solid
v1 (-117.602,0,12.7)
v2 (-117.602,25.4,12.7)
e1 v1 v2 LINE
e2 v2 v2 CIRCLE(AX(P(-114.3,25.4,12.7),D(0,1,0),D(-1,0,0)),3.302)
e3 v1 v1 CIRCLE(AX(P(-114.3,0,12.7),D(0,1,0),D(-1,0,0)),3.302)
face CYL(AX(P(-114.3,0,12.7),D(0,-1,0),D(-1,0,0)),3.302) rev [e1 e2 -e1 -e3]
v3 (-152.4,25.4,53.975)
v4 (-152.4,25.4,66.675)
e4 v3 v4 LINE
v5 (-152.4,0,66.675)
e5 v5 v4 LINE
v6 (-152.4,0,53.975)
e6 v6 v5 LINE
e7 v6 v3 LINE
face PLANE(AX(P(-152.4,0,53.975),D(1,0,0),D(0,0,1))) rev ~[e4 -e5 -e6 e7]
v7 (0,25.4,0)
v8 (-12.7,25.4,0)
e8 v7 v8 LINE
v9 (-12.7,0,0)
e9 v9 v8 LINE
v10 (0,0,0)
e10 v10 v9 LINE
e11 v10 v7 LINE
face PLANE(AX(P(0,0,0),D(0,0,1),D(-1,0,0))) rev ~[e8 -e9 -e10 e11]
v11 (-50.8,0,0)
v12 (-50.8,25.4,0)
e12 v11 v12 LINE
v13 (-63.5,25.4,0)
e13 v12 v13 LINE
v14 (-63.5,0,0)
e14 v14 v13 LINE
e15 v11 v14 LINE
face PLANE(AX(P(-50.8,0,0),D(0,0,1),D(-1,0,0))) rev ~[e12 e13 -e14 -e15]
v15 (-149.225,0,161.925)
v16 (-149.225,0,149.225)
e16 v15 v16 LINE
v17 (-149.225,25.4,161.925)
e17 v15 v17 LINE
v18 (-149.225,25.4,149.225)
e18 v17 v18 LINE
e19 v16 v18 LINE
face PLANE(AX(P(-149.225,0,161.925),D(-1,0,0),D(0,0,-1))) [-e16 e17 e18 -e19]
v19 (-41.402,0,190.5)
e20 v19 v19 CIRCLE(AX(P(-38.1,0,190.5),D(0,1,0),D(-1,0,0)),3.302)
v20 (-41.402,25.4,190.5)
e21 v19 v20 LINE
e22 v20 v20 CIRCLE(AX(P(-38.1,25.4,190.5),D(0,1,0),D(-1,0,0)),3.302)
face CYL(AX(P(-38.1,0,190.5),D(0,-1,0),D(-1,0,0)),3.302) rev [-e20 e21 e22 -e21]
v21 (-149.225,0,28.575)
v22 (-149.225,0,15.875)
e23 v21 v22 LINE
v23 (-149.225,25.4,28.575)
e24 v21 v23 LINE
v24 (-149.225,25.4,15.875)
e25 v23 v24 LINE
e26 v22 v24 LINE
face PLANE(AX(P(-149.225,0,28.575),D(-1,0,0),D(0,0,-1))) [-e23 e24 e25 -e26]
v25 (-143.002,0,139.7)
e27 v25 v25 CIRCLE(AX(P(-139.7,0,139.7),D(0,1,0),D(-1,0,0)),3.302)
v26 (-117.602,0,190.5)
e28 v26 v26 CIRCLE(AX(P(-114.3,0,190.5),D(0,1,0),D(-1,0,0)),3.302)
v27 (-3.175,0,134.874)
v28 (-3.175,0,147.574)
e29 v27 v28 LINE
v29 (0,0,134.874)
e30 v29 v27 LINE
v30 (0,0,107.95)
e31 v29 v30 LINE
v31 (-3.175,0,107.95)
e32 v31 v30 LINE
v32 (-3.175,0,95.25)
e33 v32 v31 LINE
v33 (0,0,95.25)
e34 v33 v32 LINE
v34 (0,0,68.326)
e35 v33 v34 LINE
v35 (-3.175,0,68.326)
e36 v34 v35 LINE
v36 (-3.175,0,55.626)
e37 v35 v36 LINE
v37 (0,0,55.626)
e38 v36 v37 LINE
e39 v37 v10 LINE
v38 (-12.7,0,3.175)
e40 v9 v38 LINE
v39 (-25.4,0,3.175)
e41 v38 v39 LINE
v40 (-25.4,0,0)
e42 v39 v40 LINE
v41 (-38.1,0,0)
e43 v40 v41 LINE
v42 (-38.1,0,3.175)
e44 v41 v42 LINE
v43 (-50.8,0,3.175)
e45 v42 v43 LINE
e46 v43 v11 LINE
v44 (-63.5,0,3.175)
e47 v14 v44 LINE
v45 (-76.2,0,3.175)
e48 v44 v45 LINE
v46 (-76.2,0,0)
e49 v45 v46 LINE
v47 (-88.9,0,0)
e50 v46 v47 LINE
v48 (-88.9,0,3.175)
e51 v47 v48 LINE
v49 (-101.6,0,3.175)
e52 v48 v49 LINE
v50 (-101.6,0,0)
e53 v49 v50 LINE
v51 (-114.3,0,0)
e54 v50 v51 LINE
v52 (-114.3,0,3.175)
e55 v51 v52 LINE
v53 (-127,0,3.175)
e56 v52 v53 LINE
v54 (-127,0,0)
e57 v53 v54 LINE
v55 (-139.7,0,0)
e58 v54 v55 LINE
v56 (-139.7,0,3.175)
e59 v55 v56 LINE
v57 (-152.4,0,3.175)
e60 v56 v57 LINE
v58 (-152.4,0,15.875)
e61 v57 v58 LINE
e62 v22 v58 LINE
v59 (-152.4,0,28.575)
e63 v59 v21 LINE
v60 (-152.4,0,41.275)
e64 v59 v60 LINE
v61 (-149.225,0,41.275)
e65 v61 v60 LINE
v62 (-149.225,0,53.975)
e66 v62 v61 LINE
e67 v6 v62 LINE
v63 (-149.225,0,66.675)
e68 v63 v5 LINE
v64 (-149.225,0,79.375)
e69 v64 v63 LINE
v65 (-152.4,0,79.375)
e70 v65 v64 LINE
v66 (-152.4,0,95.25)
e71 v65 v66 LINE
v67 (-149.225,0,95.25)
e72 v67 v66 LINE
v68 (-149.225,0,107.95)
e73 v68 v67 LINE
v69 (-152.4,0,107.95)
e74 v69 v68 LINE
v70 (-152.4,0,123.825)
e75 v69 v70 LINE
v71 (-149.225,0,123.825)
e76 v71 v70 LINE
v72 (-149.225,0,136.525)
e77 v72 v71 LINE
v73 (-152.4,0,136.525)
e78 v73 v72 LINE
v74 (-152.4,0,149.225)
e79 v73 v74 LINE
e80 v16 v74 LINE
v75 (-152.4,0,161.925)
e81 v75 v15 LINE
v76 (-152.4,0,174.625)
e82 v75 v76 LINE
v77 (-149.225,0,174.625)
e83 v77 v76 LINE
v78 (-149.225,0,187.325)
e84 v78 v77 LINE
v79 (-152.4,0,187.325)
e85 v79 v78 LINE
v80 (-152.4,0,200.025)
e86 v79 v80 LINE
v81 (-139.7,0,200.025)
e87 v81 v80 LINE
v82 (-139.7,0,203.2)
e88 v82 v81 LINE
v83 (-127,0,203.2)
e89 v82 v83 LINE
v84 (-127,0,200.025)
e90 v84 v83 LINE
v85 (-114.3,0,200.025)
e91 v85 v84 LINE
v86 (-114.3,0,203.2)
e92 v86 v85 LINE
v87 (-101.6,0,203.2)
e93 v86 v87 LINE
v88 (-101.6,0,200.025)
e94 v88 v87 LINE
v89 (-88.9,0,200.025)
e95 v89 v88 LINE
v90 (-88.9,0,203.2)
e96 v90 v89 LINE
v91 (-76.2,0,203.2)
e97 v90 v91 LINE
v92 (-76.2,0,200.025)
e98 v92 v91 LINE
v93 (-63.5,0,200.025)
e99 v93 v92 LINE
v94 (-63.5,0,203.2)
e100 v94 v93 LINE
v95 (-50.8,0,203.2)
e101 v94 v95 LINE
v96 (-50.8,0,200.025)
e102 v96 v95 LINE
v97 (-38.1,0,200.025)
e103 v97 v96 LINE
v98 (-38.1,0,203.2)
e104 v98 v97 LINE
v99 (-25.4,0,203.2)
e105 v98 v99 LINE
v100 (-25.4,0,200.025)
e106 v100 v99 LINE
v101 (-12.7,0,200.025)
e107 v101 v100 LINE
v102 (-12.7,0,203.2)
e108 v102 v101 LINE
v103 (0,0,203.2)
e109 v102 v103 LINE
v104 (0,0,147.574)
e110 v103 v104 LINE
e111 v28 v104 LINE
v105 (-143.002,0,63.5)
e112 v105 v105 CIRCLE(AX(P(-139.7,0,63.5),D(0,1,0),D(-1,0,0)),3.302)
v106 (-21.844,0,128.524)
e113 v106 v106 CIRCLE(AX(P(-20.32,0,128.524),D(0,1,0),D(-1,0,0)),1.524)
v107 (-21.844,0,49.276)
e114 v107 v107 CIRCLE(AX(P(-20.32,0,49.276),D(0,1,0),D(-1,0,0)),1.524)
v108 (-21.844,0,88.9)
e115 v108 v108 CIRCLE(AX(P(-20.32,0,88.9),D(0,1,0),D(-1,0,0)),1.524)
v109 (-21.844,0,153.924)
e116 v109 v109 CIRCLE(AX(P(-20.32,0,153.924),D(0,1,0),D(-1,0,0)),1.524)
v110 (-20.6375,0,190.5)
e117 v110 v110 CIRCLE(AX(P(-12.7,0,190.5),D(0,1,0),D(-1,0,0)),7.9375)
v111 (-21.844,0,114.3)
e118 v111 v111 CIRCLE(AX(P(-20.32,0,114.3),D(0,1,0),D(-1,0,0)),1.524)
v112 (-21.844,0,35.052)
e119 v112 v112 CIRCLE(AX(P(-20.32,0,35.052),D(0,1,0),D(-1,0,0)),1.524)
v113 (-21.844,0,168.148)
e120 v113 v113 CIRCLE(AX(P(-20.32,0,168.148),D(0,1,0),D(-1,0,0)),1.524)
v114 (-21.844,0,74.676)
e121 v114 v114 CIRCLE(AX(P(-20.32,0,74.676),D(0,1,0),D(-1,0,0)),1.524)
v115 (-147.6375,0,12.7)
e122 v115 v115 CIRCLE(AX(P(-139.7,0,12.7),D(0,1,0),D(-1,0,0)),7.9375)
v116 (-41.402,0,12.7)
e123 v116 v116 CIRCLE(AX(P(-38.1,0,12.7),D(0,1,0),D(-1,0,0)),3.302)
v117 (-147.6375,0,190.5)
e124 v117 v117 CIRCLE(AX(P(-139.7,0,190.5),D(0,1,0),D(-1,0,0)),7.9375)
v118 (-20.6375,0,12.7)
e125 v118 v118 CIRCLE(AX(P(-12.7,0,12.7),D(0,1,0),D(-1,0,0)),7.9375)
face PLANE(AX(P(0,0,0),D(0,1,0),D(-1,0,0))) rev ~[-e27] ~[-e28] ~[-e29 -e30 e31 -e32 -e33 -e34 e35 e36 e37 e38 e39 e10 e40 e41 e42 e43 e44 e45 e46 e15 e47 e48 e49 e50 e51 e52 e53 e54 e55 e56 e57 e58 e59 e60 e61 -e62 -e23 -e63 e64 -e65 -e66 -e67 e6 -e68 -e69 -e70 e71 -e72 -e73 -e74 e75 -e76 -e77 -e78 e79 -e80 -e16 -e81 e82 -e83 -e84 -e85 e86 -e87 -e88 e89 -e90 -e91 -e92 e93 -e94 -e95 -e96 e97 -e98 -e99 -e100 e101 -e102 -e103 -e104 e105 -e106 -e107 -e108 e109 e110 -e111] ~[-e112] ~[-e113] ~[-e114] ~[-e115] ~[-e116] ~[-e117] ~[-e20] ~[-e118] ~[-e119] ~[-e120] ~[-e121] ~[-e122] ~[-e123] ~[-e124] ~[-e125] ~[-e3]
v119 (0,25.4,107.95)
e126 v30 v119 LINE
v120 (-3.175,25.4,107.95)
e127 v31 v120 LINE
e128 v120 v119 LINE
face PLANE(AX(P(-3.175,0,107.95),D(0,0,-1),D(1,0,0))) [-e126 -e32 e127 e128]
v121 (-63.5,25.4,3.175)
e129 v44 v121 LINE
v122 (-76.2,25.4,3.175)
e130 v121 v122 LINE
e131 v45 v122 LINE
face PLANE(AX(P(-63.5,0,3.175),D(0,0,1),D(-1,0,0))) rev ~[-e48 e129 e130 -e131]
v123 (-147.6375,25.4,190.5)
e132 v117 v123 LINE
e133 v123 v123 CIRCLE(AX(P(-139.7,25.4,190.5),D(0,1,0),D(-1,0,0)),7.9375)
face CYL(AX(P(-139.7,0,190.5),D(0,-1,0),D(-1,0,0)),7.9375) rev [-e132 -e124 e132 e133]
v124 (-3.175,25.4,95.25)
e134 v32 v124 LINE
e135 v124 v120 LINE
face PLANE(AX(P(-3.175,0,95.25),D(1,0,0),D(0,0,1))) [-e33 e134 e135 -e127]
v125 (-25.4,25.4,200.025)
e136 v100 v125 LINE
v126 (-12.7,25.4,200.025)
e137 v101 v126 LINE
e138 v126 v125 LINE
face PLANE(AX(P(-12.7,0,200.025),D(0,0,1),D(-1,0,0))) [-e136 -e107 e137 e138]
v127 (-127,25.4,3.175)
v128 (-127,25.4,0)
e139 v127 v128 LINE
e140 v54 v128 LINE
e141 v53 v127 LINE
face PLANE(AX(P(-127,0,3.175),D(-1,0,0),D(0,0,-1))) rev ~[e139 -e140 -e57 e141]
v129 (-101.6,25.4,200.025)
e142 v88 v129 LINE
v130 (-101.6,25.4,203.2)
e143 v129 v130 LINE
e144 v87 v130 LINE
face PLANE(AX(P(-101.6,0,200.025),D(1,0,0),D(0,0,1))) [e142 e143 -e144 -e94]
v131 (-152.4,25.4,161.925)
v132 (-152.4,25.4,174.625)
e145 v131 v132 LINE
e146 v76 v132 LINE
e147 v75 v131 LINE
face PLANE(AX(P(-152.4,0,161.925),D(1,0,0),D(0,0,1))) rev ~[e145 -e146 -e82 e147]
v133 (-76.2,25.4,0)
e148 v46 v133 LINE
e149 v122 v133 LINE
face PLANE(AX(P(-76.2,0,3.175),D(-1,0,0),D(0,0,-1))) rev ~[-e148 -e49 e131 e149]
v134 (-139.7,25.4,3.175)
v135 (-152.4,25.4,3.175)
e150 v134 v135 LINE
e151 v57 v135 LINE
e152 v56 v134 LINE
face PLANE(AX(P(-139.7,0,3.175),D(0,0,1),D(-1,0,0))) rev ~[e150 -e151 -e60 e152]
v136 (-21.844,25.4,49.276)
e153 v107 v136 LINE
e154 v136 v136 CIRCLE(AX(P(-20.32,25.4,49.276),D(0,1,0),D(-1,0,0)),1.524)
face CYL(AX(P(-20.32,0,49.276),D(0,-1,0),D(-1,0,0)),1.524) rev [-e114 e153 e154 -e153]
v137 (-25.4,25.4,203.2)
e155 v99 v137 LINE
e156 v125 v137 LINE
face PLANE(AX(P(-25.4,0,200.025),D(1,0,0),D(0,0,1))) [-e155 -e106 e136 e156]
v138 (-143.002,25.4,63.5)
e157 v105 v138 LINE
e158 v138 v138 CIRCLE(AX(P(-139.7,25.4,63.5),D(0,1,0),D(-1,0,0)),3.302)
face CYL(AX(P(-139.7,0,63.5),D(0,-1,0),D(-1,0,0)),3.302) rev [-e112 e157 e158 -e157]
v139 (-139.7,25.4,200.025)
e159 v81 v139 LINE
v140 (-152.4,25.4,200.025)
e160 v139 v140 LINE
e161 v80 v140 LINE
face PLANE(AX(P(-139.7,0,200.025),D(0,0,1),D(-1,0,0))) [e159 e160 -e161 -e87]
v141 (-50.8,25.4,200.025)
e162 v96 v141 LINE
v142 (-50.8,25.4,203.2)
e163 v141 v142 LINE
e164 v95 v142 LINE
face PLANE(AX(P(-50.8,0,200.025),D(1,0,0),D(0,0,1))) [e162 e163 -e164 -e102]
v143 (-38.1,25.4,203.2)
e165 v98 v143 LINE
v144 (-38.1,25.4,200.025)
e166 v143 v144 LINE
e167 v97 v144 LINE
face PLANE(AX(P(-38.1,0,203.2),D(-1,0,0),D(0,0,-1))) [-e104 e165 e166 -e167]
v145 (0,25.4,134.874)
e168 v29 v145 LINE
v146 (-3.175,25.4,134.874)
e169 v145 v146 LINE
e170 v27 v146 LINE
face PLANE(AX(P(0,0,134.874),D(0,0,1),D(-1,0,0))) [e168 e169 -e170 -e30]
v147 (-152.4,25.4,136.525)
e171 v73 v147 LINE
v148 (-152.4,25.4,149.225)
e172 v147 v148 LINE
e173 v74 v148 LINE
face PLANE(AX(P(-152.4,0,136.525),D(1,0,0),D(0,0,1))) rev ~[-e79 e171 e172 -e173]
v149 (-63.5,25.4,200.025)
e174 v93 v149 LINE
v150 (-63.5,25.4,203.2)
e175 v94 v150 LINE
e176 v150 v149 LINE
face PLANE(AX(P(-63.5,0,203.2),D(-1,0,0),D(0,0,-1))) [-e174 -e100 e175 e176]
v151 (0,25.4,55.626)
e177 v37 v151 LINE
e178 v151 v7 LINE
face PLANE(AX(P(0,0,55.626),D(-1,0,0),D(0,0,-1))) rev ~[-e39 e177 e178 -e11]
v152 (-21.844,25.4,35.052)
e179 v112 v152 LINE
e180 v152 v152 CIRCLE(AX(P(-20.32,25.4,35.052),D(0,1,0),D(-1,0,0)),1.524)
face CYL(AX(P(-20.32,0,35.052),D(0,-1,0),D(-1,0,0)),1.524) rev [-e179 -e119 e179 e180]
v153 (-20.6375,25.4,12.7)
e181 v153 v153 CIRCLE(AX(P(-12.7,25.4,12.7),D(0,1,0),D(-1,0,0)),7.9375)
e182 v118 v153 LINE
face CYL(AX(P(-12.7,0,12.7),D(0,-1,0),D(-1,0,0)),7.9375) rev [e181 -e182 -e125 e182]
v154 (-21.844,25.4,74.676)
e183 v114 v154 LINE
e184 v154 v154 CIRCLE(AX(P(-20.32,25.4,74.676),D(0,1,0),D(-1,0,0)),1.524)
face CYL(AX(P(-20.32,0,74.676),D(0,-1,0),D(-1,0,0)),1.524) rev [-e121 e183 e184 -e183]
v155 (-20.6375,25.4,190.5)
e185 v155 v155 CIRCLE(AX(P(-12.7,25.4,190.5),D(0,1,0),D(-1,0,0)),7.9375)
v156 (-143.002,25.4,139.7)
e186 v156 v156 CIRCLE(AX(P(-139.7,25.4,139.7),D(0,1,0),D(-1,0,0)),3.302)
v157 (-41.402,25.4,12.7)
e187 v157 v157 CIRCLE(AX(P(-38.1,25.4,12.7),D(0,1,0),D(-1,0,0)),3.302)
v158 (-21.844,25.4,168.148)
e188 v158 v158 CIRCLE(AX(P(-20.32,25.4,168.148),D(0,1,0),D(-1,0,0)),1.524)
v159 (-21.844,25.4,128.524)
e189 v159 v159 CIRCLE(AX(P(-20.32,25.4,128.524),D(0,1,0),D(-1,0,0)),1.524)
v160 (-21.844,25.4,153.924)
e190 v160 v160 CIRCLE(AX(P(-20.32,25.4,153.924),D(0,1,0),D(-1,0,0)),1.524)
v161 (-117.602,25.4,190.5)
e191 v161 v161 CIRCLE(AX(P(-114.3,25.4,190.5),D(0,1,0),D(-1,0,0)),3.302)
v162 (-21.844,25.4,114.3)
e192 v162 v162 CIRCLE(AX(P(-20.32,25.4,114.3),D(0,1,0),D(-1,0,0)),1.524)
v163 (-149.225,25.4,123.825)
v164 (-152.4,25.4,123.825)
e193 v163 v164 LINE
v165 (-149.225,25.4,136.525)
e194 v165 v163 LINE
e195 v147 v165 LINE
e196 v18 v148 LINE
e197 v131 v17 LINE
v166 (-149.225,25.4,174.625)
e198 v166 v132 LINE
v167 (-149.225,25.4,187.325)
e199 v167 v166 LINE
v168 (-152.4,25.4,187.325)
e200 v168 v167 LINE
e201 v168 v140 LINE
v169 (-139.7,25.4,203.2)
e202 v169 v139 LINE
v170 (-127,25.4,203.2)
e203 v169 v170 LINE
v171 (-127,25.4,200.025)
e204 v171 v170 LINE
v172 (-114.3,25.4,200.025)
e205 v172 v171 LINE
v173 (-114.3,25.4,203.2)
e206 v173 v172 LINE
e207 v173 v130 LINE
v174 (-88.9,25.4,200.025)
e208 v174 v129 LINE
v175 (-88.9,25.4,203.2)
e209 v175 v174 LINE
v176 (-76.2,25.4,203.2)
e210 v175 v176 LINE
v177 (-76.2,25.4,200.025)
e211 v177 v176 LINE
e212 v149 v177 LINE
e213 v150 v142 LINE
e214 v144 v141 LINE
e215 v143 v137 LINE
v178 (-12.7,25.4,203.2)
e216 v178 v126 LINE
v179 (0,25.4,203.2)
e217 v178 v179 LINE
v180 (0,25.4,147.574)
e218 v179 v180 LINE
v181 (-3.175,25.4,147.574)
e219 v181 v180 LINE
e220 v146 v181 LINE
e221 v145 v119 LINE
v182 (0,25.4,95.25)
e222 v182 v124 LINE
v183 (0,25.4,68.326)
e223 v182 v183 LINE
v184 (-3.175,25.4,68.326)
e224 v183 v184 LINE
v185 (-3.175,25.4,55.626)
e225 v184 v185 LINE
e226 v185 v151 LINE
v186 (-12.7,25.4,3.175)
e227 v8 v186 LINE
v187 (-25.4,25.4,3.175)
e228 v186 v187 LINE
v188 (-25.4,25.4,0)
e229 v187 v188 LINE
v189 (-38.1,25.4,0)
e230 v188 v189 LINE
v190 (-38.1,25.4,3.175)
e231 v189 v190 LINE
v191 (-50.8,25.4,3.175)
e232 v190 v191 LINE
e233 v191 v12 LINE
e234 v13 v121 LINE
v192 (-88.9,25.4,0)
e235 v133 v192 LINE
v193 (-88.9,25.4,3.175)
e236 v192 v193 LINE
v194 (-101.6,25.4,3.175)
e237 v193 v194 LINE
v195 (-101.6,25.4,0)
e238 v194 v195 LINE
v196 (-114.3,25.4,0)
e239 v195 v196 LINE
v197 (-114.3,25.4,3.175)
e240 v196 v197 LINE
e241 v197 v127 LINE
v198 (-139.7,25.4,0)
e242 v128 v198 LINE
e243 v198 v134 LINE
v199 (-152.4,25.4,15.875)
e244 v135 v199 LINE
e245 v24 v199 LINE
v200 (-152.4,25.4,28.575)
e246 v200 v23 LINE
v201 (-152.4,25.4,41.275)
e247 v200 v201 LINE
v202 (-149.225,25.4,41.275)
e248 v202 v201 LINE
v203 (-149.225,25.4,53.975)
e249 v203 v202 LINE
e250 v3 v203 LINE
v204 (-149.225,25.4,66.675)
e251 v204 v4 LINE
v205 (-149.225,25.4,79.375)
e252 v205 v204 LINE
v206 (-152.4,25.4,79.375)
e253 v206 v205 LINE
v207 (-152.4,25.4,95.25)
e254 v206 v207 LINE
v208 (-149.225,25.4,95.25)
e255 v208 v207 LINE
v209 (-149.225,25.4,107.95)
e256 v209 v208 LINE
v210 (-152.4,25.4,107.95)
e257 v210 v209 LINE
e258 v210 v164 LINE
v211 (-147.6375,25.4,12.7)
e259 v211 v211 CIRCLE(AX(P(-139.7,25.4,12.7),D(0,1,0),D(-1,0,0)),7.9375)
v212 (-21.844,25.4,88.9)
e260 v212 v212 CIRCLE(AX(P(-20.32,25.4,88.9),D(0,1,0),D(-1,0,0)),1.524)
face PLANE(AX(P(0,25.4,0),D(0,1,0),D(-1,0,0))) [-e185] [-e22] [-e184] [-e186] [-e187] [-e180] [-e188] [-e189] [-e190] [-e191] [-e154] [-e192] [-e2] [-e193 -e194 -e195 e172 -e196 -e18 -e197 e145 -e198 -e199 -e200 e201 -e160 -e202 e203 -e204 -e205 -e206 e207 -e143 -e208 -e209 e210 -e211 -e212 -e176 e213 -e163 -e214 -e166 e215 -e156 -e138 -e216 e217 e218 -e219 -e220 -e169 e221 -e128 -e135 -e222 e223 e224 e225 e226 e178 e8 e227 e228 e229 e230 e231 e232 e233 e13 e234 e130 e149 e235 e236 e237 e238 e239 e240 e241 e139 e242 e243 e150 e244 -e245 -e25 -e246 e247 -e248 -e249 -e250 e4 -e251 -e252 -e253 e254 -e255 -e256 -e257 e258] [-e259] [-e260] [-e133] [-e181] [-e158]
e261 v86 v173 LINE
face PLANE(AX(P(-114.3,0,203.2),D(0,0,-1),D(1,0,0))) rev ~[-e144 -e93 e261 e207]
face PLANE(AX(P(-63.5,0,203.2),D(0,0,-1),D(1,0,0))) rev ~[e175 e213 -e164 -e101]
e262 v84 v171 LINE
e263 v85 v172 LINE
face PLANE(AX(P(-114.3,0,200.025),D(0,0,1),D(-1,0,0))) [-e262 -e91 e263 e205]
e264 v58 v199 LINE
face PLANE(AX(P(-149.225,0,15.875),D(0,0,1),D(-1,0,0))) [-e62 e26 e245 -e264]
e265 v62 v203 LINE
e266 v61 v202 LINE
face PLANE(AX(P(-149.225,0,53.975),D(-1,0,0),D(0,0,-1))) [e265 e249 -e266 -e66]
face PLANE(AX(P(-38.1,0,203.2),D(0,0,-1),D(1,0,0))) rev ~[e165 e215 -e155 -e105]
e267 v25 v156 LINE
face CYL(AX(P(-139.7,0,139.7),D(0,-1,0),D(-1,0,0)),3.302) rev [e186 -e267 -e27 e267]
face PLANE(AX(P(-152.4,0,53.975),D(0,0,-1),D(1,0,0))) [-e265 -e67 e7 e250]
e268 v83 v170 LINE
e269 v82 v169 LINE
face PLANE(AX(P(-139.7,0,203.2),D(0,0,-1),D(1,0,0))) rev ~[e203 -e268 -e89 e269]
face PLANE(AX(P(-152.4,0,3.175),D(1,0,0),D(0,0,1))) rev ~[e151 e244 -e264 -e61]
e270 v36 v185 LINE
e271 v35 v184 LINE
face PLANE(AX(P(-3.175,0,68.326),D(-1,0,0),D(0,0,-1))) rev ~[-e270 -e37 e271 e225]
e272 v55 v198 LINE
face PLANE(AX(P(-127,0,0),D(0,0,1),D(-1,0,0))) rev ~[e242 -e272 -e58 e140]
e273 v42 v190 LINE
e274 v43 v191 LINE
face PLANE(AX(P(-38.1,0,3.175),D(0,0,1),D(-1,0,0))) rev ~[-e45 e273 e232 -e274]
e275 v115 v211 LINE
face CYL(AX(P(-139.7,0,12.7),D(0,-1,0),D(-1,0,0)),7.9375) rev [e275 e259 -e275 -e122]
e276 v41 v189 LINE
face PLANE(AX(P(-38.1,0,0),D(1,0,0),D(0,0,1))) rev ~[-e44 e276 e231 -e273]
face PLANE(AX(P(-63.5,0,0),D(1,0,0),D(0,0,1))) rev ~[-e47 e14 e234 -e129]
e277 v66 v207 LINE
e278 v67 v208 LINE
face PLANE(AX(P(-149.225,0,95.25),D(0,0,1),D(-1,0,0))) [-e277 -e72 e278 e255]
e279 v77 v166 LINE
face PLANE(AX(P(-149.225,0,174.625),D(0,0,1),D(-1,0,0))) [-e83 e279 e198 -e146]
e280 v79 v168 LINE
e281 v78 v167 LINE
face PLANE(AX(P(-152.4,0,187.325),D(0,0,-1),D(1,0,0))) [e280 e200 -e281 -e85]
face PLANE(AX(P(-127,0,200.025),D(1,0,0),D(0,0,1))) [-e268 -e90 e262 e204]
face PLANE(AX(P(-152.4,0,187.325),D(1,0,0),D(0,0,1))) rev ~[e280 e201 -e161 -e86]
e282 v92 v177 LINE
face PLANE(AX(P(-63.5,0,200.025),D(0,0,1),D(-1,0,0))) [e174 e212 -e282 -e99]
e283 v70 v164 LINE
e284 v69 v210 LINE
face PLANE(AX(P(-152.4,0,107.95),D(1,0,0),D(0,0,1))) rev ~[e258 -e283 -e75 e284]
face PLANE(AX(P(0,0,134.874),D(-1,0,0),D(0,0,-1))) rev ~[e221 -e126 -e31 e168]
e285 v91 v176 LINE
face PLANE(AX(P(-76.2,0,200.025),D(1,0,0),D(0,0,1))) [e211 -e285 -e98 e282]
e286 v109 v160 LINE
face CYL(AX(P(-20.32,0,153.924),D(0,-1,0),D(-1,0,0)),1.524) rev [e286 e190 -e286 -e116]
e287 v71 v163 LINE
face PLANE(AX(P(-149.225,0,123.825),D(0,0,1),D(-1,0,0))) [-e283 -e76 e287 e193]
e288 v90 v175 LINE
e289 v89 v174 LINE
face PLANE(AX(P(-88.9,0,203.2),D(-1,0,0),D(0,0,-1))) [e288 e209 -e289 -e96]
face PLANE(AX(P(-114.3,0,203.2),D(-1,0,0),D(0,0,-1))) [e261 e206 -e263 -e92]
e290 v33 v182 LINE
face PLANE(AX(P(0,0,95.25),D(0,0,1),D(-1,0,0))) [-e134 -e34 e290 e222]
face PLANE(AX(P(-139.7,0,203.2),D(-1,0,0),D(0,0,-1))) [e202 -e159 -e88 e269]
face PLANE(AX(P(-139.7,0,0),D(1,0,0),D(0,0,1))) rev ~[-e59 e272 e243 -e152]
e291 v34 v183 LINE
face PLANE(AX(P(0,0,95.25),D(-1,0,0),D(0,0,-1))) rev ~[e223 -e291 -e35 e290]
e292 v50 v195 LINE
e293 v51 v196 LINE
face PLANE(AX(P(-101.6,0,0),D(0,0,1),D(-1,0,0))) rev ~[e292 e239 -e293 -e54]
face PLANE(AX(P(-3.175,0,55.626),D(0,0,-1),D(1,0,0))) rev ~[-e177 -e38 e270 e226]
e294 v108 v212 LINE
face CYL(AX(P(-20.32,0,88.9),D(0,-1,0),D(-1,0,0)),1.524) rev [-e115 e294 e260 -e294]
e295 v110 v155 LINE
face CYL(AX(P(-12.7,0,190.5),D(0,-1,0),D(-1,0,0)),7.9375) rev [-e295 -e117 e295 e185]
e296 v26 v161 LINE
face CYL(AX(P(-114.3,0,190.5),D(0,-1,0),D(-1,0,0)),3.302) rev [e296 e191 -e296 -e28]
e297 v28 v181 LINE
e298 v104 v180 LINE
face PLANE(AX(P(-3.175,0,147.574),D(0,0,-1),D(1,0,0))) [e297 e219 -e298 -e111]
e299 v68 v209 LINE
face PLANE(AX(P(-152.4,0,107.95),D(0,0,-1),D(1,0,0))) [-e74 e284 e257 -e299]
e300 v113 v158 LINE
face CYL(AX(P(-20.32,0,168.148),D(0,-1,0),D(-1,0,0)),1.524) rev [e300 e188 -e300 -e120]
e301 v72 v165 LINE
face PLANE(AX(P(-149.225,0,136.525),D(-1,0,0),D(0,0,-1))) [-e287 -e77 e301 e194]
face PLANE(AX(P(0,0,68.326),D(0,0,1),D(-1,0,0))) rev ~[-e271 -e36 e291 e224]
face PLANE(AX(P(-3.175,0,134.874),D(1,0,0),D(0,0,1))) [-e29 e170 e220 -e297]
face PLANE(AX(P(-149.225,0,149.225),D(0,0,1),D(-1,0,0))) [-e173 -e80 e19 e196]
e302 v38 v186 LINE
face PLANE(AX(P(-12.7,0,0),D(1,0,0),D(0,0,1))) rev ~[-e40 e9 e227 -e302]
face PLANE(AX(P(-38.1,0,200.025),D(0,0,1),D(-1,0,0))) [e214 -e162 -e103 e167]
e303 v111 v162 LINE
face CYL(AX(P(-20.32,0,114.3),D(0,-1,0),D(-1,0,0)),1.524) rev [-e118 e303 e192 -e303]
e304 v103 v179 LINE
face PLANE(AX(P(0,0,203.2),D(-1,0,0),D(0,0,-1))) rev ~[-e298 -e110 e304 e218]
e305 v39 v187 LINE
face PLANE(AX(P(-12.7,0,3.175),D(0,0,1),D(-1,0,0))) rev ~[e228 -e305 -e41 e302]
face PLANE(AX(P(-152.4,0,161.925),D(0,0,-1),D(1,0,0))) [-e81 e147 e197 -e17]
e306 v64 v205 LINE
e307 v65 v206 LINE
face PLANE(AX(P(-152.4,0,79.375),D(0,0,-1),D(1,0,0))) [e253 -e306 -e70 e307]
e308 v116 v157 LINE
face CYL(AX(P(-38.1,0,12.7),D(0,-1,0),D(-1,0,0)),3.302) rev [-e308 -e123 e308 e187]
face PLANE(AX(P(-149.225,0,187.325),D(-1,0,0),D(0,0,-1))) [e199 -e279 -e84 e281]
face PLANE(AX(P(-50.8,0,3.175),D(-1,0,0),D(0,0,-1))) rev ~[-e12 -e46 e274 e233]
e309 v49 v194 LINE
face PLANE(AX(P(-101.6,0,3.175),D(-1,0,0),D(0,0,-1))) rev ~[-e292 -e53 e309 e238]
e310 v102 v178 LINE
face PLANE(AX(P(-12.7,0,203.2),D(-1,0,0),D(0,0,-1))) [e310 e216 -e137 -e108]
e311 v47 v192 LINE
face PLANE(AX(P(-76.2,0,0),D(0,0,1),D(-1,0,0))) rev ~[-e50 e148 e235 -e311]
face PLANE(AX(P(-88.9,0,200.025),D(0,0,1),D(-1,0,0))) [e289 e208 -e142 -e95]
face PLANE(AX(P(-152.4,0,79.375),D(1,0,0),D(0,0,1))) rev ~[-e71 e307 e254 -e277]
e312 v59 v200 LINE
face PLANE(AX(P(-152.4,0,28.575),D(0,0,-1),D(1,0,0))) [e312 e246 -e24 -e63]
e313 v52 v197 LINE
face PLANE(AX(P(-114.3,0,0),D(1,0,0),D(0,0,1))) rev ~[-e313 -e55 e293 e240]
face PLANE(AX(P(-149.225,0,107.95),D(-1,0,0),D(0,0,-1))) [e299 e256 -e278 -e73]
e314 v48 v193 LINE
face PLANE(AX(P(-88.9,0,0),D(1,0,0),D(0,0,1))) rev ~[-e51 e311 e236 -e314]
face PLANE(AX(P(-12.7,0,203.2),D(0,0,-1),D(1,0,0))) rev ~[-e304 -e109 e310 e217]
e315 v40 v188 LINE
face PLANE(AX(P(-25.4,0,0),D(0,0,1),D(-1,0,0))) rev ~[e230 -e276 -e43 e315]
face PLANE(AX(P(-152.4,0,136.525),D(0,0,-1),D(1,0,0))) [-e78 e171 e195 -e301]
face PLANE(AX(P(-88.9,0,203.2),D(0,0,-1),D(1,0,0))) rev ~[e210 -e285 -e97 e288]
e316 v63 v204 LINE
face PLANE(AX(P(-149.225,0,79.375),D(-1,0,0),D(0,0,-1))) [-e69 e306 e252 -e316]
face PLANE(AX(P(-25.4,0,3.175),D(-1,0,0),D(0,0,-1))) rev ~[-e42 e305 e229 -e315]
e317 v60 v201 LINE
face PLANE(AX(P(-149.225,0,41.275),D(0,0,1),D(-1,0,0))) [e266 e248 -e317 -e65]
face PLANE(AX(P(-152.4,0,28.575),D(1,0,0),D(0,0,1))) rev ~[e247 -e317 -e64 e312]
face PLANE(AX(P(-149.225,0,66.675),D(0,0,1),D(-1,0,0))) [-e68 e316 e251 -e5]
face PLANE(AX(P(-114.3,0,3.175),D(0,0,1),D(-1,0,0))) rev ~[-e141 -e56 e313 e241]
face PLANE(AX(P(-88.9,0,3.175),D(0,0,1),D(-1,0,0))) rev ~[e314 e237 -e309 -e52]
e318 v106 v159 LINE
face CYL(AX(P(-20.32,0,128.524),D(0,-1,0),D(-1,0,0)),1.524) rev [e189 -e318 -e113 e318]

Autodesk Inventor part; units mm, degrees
ref_plane "YZ Plane" through (0, 0, 0) normal (1, 0, 0) x (0, 1, 0)
ref_plane "XZ Plane" through (0, 0, 0) normal (0, 1, 0) x (-1, 0, 0)
ref_plane "XY Plane" through (0, 0, 0) normal (0, 0, 1) x (1, 0, 0)
sketch "Sketch1" plane through (0, 0, 0) normal (0, 1, 0) x (-1, 0, 0)
  line L0 (0, 0) -> (152.4, 0)
  line L1 (152.4, 0) -> (152.4, 203.2)
  line L2 (152.4, 203.2) -> (0, 203.2)
  line L3 (0, 203.2) -> (0, 0)
  circle A0 centre (12.7, 190.5) radius 7.9375
  circle A1 centre (139.7, 190.5) radius 7.9375
  circle A2 centre (139.7, 12.7) radius 7.9375
  circle A3 centre (12.7, 12.7) radius 7.9375
  circle A4 centre (114.3, 190.5) radius 3.302
  circle A5 centre (38.1, 190.5) radius 3.302
  circle A6 centre (114.3, 12.7) radius 3.302
  circle A7 centre (38.1, 12.7) radius 3.302
  circle A8 centre (139.7, 139.7) radius 3.302
  circle A9 centre (139.7, 63.5) radius 3.302
  circle A10 centre (20.32, 168.148) radius 1.524
  circle A11 centre (20.32, 153.924) radius 1.524
  circle A12 centre (20.32, 128.524) radius 1.524
  circle A13 centre (20.32, 114.3) radius 1.524
  circle A14 centre (20.32, 88.9) radius 1.524
  circle A15 centre (20.32, 74.676) radius 1.524
  circle A16 centre (20.32, 49.276) radius 1.524
  circle A17 centre (20.32, 35.052) radius 1.524
  line L4 (152.4, 203.2) -> (139.7, 203.2)
  line L5 (139.7, 203.2) -> (139.7, 200.025)
  line L6 (139.7, 200.025) -> (152.4, 200.025)
  line L7 (152.4, 200.025) -> (152.4, 203.2)
  line L8 (127, 203.2) -> (114.3, 203.2)
  line L9 (114.3, 203.2) -> (114.3, 200.025)
  line L10 (114.3, 200.025) -> (127, 200.025)
  line L11 (127, 200.025) -> (127, 203.2)
  line L12 (101.6, 203.2) -> (88.9, 203.2)
  line L13 (88.9, 203.2) -> (88.9, 200.025)
  line L14 (88.9, 200.025) -> (101.6, 200.025)
  line L15 (101.6, 200.025) -> (101.6, 203.2)
  line L16 (76.2, 203.2) -> (63.5, 203.2)
  line L17 (63.5, 203.2) -> (63.5, 200.025)
  line L18 (63.5, 200.025) -> (76.2, 200.025)
  line L19 (76.2, 200.025) -> (76.2, 203.2)
  line L20 (50.8, 203.2) -> (38.1, 203.2)
  line L21 (38.1, 203.2) -> (38.1, 200.025)
  line L22 (38.1, 200.025) -> (50.8, 200.025)
  line L23 (50.8, 200.025) -> (50.8, 203.2)
  line L24 (25.4, 203.2) -> (12.7, 203.2)
  line L25 (12.7, 203.2) -> (12.7, 200.025)
  line L26 (12.7, 200.025) -> (25.4, 200.025)
  line L27 (25.4, 200.025) -> (25.4, 203.2)
  line L28 (152.4, 0) -> (139.7, 0)
  line L29 (139.7, 0) -> (139.7, 3.175)
  line L30 (139.7, 3.175) -> (152.4, 3.175)
  line L31 (152.4, 3.175) -> (152.4, 0)
  line L32 (127, 0) -> (114.3, 0)
  line L33 (114.3, 0) -> (114.3, 3.175)
  line L34 (114.3, 3.175) -> (127, 3.175)
  line L35 (127, 3.175) -> (127, 0)
  line L36 (101.6, 0) -> (88.9, 0)
  line L37 (88.9, 0) -> (88.9, 3.175)
  line L38 (88.9, 3.175) -> (101.6, 3.175)
  line L39 (101.6, 3.175) -> (101.6, 0)
  line L40 (76.2, 0) -> (63.5, 0)
  line L41 (63.5, 0) -> (63.5, 3.175)
  line L42 (63.5, 3.175) -> (76.2, 3.175)
  line L43 (76.2, 3.175) -> (76.2, 0)
  line L44 (50.8, 0) -> (38.1, 0)
  line L45 (38.1, 0) -> (38.1, 3.175)
  line L46 (38.1, 3.175) -> (50.8, 3.175)
  line L47 (50.8, 3.175) -> (50.8, 0)
  line L48 (25.4, 0) -> (12.7, 0)
  line L49 (12.7, 0) -> (12.7, 3.175)
  line L50 (12.7, 3.175) -> (25.4, 3.175)
  line L51 (25.4, 3.175) -> (25.4, 0)
  line L52 (152.4, 187.325) -> (149.225, 187.325)
  line L53 (149.225, 187.325) -> (149.225, 174.625)
  line L54 (149.225, 174.625) -> (152.4, 174.625)
  line L55 (152.4, 174.625) -> (152.4, 187.325)
  line L56 (152.4, 161.925) -> (149.225, 161.925)
  line L57 (149.225, 161.925) -> (149.225, 149.225)
  line L58 (149.225, 149.225) -> (152.4, 149.225)
  line L59 (152.4, 149.225) -> (152.4, 161.925)
  line L60 (152.4, 136.525) -> (149.225, 136.525)
  line L61 (149.225, 136.525) -> (149.225, 123.825)
  line L62 (149.225, 123.825) -> (152.4, 123.825)
  line L63 (152.4, 123.825) -> (152.4, 136.525)
  line L64 (152.4, 107.95) -> (149.225, 107.95)
  line L65 (149.225, 107.95) -> (149.225, 95.25)
  line L66 (149.225, 95.25) -> (152.4, 95.25)
  line L67 (152.4, 95.25) -> (152.4, 107.95)
  line L68 (152.4, 79.375) -> (149.225, 79.375)
  line L69 (149.225, 79.375) -> (149.225, 66.675)
  line L70 (149.225, 66.675) -> (152.4, 66.675)
  line L71 (152.4, 66.675) -> (152.4, 79.375)
  line L72 (152.4, 53.975) -> (149.225, 53.975)
  line L73 (149.225, 53.975) -> (149.225, 41.275)
  line L74 (149.225, 41.275) -> (152.4, 41.275)
  line L75 (152.4, 41.275) -> (152.4, 53.975)
  line L76 (152.4, 28.575) -> (149.225, 28.575)
  line L77 (149.225, 28.575) -> (149.225, 15.875)
  line L78 (149.225, 15.875) -> (152.4, 15.875)
  line L79 (152.4, 15.875) -> (152.4, 28.575)
  line L80 (0, 147.574) -> (0, 134.874)
  line L81 (0, 134.874) -> (3.175, 134.874)
  line L82 (3.175, 134.874) -> (3.175, 147.574)
  line L83 (3.175, 147.574) -> (0, 147.574)
  line L84 (0, 107.95) -> (0, 95.25)
  line L85 (0, 95.25) -> (3.175, 95.25)
  line L86 (3.175, 95.25) -> (3.175, 107.95)
  line L87 (3.175, 107.95) -> (0, 107.95)
  line L88 (0, 55.626) -> (0, 68.326)
  line L89 (0, 68.326) -> (3.175, 68.326)
  line L90 (3.175, 68.326) -> (3.175, 55.626)
  line L91 (3.175, 55.626) -> (0, 55.626)
  dimension "d0" = 152.4
  dimension "d1" = 203.2
  dimension "d40" = 15.875
  dimension "d41" = 15.875
  dimension "d42" = 15.875
  dimension "d43" = 15.875
  dimension "d44" = 12.7
  dimension "d45" = 12.7
  dimension "d46" = 12.7
  dimension "d47" = 12.7
  dimension "d48" = 12.7
  dimension "d49" = 12.7
  dimension "d50" = 12.7
  dimension "d51" = 12.7
  dimension "d52" = 177.8
  dimension "d53" = 127
  dimension "d54" = 6.604
  dimension "d55" = 6.604
  dimension "d56" = 25.4
  dimension "d57" = 25.4
  dimension "d58" = 12.7
  dimension "d59" = 12.7
  dimension "d60" = 6.604
  dimension "d61" = 6.604
  dimension "d62" = 12.7
  dimension "d63" = 12.7
  dimension "d64" = 25.4
  dimension "d65" = 25.4
  dimension "d66" = 6.604
  dimension "d67" = 6.604
  dimension "d68" = 50.8
  dimension "d69" = 50.8
  dimension "d70" = 12.7
  dimension "d71" = 12.7
  dimension "d72" = 3.048
  dimension "d73" = 3.048
  dimension "d74" = 3.048
  dimension "d75" = 3.048
  dimension "d76" = 3.048
  dimension "d77" = 3.048
  dimension "d78" = 20.32
  dimension "d79" = 20.32
  dimension "d80" = 20.32
  dimension "d81" = 20.32
  dimension "d82" = 20.32
  dimension "d83" = 20.32
  dimension "d84" = 22.352
  dimension "d85" = 14.224
  dimension "d86" = 25.4
  dimension "d87" = 14.224
  dimension "d88" = 25.4
  dimension "d89" = 14.224
  dimension "d90" = 3.048
  dimension "d91" = 3.048
  dimension "d92" = 25.4
  dimension "d93" = 14.224
  dimension "d97" = 12.7
  dimension "d98" = 3.175
  dimension "d99" = 12.7
  dimension "d100" = 3.175
  dimension "d101" = 12.7
  dimension "d102" = 3.175
  dimension "d103" = 12.7
  dimension "d104" = 3.175
extrude "Extrusion4" add sketch "Sketch1" along normal blind 25.4 contours L3 L91 L90 L89 L85 L86 L87 L81 L82 L83 L2 L25 L26 L27 L21 L22 L23 L17 L18 L19 L13 L14 L15 L9 L10 L11 L5 L6 L1 L52 L53 L54 L56 L57 L58 L60 L61 L62 L64 L65 L66 L68 L69 L70 L72 L73 L74 L76 L77 L78 L30 L29 L0 L35 L34 L33 L39 L38 L37 L43 L42 L41 L47 L46 L45 L51 L50 L49
properties part number "CasingBottomWithSlotsInFront"
